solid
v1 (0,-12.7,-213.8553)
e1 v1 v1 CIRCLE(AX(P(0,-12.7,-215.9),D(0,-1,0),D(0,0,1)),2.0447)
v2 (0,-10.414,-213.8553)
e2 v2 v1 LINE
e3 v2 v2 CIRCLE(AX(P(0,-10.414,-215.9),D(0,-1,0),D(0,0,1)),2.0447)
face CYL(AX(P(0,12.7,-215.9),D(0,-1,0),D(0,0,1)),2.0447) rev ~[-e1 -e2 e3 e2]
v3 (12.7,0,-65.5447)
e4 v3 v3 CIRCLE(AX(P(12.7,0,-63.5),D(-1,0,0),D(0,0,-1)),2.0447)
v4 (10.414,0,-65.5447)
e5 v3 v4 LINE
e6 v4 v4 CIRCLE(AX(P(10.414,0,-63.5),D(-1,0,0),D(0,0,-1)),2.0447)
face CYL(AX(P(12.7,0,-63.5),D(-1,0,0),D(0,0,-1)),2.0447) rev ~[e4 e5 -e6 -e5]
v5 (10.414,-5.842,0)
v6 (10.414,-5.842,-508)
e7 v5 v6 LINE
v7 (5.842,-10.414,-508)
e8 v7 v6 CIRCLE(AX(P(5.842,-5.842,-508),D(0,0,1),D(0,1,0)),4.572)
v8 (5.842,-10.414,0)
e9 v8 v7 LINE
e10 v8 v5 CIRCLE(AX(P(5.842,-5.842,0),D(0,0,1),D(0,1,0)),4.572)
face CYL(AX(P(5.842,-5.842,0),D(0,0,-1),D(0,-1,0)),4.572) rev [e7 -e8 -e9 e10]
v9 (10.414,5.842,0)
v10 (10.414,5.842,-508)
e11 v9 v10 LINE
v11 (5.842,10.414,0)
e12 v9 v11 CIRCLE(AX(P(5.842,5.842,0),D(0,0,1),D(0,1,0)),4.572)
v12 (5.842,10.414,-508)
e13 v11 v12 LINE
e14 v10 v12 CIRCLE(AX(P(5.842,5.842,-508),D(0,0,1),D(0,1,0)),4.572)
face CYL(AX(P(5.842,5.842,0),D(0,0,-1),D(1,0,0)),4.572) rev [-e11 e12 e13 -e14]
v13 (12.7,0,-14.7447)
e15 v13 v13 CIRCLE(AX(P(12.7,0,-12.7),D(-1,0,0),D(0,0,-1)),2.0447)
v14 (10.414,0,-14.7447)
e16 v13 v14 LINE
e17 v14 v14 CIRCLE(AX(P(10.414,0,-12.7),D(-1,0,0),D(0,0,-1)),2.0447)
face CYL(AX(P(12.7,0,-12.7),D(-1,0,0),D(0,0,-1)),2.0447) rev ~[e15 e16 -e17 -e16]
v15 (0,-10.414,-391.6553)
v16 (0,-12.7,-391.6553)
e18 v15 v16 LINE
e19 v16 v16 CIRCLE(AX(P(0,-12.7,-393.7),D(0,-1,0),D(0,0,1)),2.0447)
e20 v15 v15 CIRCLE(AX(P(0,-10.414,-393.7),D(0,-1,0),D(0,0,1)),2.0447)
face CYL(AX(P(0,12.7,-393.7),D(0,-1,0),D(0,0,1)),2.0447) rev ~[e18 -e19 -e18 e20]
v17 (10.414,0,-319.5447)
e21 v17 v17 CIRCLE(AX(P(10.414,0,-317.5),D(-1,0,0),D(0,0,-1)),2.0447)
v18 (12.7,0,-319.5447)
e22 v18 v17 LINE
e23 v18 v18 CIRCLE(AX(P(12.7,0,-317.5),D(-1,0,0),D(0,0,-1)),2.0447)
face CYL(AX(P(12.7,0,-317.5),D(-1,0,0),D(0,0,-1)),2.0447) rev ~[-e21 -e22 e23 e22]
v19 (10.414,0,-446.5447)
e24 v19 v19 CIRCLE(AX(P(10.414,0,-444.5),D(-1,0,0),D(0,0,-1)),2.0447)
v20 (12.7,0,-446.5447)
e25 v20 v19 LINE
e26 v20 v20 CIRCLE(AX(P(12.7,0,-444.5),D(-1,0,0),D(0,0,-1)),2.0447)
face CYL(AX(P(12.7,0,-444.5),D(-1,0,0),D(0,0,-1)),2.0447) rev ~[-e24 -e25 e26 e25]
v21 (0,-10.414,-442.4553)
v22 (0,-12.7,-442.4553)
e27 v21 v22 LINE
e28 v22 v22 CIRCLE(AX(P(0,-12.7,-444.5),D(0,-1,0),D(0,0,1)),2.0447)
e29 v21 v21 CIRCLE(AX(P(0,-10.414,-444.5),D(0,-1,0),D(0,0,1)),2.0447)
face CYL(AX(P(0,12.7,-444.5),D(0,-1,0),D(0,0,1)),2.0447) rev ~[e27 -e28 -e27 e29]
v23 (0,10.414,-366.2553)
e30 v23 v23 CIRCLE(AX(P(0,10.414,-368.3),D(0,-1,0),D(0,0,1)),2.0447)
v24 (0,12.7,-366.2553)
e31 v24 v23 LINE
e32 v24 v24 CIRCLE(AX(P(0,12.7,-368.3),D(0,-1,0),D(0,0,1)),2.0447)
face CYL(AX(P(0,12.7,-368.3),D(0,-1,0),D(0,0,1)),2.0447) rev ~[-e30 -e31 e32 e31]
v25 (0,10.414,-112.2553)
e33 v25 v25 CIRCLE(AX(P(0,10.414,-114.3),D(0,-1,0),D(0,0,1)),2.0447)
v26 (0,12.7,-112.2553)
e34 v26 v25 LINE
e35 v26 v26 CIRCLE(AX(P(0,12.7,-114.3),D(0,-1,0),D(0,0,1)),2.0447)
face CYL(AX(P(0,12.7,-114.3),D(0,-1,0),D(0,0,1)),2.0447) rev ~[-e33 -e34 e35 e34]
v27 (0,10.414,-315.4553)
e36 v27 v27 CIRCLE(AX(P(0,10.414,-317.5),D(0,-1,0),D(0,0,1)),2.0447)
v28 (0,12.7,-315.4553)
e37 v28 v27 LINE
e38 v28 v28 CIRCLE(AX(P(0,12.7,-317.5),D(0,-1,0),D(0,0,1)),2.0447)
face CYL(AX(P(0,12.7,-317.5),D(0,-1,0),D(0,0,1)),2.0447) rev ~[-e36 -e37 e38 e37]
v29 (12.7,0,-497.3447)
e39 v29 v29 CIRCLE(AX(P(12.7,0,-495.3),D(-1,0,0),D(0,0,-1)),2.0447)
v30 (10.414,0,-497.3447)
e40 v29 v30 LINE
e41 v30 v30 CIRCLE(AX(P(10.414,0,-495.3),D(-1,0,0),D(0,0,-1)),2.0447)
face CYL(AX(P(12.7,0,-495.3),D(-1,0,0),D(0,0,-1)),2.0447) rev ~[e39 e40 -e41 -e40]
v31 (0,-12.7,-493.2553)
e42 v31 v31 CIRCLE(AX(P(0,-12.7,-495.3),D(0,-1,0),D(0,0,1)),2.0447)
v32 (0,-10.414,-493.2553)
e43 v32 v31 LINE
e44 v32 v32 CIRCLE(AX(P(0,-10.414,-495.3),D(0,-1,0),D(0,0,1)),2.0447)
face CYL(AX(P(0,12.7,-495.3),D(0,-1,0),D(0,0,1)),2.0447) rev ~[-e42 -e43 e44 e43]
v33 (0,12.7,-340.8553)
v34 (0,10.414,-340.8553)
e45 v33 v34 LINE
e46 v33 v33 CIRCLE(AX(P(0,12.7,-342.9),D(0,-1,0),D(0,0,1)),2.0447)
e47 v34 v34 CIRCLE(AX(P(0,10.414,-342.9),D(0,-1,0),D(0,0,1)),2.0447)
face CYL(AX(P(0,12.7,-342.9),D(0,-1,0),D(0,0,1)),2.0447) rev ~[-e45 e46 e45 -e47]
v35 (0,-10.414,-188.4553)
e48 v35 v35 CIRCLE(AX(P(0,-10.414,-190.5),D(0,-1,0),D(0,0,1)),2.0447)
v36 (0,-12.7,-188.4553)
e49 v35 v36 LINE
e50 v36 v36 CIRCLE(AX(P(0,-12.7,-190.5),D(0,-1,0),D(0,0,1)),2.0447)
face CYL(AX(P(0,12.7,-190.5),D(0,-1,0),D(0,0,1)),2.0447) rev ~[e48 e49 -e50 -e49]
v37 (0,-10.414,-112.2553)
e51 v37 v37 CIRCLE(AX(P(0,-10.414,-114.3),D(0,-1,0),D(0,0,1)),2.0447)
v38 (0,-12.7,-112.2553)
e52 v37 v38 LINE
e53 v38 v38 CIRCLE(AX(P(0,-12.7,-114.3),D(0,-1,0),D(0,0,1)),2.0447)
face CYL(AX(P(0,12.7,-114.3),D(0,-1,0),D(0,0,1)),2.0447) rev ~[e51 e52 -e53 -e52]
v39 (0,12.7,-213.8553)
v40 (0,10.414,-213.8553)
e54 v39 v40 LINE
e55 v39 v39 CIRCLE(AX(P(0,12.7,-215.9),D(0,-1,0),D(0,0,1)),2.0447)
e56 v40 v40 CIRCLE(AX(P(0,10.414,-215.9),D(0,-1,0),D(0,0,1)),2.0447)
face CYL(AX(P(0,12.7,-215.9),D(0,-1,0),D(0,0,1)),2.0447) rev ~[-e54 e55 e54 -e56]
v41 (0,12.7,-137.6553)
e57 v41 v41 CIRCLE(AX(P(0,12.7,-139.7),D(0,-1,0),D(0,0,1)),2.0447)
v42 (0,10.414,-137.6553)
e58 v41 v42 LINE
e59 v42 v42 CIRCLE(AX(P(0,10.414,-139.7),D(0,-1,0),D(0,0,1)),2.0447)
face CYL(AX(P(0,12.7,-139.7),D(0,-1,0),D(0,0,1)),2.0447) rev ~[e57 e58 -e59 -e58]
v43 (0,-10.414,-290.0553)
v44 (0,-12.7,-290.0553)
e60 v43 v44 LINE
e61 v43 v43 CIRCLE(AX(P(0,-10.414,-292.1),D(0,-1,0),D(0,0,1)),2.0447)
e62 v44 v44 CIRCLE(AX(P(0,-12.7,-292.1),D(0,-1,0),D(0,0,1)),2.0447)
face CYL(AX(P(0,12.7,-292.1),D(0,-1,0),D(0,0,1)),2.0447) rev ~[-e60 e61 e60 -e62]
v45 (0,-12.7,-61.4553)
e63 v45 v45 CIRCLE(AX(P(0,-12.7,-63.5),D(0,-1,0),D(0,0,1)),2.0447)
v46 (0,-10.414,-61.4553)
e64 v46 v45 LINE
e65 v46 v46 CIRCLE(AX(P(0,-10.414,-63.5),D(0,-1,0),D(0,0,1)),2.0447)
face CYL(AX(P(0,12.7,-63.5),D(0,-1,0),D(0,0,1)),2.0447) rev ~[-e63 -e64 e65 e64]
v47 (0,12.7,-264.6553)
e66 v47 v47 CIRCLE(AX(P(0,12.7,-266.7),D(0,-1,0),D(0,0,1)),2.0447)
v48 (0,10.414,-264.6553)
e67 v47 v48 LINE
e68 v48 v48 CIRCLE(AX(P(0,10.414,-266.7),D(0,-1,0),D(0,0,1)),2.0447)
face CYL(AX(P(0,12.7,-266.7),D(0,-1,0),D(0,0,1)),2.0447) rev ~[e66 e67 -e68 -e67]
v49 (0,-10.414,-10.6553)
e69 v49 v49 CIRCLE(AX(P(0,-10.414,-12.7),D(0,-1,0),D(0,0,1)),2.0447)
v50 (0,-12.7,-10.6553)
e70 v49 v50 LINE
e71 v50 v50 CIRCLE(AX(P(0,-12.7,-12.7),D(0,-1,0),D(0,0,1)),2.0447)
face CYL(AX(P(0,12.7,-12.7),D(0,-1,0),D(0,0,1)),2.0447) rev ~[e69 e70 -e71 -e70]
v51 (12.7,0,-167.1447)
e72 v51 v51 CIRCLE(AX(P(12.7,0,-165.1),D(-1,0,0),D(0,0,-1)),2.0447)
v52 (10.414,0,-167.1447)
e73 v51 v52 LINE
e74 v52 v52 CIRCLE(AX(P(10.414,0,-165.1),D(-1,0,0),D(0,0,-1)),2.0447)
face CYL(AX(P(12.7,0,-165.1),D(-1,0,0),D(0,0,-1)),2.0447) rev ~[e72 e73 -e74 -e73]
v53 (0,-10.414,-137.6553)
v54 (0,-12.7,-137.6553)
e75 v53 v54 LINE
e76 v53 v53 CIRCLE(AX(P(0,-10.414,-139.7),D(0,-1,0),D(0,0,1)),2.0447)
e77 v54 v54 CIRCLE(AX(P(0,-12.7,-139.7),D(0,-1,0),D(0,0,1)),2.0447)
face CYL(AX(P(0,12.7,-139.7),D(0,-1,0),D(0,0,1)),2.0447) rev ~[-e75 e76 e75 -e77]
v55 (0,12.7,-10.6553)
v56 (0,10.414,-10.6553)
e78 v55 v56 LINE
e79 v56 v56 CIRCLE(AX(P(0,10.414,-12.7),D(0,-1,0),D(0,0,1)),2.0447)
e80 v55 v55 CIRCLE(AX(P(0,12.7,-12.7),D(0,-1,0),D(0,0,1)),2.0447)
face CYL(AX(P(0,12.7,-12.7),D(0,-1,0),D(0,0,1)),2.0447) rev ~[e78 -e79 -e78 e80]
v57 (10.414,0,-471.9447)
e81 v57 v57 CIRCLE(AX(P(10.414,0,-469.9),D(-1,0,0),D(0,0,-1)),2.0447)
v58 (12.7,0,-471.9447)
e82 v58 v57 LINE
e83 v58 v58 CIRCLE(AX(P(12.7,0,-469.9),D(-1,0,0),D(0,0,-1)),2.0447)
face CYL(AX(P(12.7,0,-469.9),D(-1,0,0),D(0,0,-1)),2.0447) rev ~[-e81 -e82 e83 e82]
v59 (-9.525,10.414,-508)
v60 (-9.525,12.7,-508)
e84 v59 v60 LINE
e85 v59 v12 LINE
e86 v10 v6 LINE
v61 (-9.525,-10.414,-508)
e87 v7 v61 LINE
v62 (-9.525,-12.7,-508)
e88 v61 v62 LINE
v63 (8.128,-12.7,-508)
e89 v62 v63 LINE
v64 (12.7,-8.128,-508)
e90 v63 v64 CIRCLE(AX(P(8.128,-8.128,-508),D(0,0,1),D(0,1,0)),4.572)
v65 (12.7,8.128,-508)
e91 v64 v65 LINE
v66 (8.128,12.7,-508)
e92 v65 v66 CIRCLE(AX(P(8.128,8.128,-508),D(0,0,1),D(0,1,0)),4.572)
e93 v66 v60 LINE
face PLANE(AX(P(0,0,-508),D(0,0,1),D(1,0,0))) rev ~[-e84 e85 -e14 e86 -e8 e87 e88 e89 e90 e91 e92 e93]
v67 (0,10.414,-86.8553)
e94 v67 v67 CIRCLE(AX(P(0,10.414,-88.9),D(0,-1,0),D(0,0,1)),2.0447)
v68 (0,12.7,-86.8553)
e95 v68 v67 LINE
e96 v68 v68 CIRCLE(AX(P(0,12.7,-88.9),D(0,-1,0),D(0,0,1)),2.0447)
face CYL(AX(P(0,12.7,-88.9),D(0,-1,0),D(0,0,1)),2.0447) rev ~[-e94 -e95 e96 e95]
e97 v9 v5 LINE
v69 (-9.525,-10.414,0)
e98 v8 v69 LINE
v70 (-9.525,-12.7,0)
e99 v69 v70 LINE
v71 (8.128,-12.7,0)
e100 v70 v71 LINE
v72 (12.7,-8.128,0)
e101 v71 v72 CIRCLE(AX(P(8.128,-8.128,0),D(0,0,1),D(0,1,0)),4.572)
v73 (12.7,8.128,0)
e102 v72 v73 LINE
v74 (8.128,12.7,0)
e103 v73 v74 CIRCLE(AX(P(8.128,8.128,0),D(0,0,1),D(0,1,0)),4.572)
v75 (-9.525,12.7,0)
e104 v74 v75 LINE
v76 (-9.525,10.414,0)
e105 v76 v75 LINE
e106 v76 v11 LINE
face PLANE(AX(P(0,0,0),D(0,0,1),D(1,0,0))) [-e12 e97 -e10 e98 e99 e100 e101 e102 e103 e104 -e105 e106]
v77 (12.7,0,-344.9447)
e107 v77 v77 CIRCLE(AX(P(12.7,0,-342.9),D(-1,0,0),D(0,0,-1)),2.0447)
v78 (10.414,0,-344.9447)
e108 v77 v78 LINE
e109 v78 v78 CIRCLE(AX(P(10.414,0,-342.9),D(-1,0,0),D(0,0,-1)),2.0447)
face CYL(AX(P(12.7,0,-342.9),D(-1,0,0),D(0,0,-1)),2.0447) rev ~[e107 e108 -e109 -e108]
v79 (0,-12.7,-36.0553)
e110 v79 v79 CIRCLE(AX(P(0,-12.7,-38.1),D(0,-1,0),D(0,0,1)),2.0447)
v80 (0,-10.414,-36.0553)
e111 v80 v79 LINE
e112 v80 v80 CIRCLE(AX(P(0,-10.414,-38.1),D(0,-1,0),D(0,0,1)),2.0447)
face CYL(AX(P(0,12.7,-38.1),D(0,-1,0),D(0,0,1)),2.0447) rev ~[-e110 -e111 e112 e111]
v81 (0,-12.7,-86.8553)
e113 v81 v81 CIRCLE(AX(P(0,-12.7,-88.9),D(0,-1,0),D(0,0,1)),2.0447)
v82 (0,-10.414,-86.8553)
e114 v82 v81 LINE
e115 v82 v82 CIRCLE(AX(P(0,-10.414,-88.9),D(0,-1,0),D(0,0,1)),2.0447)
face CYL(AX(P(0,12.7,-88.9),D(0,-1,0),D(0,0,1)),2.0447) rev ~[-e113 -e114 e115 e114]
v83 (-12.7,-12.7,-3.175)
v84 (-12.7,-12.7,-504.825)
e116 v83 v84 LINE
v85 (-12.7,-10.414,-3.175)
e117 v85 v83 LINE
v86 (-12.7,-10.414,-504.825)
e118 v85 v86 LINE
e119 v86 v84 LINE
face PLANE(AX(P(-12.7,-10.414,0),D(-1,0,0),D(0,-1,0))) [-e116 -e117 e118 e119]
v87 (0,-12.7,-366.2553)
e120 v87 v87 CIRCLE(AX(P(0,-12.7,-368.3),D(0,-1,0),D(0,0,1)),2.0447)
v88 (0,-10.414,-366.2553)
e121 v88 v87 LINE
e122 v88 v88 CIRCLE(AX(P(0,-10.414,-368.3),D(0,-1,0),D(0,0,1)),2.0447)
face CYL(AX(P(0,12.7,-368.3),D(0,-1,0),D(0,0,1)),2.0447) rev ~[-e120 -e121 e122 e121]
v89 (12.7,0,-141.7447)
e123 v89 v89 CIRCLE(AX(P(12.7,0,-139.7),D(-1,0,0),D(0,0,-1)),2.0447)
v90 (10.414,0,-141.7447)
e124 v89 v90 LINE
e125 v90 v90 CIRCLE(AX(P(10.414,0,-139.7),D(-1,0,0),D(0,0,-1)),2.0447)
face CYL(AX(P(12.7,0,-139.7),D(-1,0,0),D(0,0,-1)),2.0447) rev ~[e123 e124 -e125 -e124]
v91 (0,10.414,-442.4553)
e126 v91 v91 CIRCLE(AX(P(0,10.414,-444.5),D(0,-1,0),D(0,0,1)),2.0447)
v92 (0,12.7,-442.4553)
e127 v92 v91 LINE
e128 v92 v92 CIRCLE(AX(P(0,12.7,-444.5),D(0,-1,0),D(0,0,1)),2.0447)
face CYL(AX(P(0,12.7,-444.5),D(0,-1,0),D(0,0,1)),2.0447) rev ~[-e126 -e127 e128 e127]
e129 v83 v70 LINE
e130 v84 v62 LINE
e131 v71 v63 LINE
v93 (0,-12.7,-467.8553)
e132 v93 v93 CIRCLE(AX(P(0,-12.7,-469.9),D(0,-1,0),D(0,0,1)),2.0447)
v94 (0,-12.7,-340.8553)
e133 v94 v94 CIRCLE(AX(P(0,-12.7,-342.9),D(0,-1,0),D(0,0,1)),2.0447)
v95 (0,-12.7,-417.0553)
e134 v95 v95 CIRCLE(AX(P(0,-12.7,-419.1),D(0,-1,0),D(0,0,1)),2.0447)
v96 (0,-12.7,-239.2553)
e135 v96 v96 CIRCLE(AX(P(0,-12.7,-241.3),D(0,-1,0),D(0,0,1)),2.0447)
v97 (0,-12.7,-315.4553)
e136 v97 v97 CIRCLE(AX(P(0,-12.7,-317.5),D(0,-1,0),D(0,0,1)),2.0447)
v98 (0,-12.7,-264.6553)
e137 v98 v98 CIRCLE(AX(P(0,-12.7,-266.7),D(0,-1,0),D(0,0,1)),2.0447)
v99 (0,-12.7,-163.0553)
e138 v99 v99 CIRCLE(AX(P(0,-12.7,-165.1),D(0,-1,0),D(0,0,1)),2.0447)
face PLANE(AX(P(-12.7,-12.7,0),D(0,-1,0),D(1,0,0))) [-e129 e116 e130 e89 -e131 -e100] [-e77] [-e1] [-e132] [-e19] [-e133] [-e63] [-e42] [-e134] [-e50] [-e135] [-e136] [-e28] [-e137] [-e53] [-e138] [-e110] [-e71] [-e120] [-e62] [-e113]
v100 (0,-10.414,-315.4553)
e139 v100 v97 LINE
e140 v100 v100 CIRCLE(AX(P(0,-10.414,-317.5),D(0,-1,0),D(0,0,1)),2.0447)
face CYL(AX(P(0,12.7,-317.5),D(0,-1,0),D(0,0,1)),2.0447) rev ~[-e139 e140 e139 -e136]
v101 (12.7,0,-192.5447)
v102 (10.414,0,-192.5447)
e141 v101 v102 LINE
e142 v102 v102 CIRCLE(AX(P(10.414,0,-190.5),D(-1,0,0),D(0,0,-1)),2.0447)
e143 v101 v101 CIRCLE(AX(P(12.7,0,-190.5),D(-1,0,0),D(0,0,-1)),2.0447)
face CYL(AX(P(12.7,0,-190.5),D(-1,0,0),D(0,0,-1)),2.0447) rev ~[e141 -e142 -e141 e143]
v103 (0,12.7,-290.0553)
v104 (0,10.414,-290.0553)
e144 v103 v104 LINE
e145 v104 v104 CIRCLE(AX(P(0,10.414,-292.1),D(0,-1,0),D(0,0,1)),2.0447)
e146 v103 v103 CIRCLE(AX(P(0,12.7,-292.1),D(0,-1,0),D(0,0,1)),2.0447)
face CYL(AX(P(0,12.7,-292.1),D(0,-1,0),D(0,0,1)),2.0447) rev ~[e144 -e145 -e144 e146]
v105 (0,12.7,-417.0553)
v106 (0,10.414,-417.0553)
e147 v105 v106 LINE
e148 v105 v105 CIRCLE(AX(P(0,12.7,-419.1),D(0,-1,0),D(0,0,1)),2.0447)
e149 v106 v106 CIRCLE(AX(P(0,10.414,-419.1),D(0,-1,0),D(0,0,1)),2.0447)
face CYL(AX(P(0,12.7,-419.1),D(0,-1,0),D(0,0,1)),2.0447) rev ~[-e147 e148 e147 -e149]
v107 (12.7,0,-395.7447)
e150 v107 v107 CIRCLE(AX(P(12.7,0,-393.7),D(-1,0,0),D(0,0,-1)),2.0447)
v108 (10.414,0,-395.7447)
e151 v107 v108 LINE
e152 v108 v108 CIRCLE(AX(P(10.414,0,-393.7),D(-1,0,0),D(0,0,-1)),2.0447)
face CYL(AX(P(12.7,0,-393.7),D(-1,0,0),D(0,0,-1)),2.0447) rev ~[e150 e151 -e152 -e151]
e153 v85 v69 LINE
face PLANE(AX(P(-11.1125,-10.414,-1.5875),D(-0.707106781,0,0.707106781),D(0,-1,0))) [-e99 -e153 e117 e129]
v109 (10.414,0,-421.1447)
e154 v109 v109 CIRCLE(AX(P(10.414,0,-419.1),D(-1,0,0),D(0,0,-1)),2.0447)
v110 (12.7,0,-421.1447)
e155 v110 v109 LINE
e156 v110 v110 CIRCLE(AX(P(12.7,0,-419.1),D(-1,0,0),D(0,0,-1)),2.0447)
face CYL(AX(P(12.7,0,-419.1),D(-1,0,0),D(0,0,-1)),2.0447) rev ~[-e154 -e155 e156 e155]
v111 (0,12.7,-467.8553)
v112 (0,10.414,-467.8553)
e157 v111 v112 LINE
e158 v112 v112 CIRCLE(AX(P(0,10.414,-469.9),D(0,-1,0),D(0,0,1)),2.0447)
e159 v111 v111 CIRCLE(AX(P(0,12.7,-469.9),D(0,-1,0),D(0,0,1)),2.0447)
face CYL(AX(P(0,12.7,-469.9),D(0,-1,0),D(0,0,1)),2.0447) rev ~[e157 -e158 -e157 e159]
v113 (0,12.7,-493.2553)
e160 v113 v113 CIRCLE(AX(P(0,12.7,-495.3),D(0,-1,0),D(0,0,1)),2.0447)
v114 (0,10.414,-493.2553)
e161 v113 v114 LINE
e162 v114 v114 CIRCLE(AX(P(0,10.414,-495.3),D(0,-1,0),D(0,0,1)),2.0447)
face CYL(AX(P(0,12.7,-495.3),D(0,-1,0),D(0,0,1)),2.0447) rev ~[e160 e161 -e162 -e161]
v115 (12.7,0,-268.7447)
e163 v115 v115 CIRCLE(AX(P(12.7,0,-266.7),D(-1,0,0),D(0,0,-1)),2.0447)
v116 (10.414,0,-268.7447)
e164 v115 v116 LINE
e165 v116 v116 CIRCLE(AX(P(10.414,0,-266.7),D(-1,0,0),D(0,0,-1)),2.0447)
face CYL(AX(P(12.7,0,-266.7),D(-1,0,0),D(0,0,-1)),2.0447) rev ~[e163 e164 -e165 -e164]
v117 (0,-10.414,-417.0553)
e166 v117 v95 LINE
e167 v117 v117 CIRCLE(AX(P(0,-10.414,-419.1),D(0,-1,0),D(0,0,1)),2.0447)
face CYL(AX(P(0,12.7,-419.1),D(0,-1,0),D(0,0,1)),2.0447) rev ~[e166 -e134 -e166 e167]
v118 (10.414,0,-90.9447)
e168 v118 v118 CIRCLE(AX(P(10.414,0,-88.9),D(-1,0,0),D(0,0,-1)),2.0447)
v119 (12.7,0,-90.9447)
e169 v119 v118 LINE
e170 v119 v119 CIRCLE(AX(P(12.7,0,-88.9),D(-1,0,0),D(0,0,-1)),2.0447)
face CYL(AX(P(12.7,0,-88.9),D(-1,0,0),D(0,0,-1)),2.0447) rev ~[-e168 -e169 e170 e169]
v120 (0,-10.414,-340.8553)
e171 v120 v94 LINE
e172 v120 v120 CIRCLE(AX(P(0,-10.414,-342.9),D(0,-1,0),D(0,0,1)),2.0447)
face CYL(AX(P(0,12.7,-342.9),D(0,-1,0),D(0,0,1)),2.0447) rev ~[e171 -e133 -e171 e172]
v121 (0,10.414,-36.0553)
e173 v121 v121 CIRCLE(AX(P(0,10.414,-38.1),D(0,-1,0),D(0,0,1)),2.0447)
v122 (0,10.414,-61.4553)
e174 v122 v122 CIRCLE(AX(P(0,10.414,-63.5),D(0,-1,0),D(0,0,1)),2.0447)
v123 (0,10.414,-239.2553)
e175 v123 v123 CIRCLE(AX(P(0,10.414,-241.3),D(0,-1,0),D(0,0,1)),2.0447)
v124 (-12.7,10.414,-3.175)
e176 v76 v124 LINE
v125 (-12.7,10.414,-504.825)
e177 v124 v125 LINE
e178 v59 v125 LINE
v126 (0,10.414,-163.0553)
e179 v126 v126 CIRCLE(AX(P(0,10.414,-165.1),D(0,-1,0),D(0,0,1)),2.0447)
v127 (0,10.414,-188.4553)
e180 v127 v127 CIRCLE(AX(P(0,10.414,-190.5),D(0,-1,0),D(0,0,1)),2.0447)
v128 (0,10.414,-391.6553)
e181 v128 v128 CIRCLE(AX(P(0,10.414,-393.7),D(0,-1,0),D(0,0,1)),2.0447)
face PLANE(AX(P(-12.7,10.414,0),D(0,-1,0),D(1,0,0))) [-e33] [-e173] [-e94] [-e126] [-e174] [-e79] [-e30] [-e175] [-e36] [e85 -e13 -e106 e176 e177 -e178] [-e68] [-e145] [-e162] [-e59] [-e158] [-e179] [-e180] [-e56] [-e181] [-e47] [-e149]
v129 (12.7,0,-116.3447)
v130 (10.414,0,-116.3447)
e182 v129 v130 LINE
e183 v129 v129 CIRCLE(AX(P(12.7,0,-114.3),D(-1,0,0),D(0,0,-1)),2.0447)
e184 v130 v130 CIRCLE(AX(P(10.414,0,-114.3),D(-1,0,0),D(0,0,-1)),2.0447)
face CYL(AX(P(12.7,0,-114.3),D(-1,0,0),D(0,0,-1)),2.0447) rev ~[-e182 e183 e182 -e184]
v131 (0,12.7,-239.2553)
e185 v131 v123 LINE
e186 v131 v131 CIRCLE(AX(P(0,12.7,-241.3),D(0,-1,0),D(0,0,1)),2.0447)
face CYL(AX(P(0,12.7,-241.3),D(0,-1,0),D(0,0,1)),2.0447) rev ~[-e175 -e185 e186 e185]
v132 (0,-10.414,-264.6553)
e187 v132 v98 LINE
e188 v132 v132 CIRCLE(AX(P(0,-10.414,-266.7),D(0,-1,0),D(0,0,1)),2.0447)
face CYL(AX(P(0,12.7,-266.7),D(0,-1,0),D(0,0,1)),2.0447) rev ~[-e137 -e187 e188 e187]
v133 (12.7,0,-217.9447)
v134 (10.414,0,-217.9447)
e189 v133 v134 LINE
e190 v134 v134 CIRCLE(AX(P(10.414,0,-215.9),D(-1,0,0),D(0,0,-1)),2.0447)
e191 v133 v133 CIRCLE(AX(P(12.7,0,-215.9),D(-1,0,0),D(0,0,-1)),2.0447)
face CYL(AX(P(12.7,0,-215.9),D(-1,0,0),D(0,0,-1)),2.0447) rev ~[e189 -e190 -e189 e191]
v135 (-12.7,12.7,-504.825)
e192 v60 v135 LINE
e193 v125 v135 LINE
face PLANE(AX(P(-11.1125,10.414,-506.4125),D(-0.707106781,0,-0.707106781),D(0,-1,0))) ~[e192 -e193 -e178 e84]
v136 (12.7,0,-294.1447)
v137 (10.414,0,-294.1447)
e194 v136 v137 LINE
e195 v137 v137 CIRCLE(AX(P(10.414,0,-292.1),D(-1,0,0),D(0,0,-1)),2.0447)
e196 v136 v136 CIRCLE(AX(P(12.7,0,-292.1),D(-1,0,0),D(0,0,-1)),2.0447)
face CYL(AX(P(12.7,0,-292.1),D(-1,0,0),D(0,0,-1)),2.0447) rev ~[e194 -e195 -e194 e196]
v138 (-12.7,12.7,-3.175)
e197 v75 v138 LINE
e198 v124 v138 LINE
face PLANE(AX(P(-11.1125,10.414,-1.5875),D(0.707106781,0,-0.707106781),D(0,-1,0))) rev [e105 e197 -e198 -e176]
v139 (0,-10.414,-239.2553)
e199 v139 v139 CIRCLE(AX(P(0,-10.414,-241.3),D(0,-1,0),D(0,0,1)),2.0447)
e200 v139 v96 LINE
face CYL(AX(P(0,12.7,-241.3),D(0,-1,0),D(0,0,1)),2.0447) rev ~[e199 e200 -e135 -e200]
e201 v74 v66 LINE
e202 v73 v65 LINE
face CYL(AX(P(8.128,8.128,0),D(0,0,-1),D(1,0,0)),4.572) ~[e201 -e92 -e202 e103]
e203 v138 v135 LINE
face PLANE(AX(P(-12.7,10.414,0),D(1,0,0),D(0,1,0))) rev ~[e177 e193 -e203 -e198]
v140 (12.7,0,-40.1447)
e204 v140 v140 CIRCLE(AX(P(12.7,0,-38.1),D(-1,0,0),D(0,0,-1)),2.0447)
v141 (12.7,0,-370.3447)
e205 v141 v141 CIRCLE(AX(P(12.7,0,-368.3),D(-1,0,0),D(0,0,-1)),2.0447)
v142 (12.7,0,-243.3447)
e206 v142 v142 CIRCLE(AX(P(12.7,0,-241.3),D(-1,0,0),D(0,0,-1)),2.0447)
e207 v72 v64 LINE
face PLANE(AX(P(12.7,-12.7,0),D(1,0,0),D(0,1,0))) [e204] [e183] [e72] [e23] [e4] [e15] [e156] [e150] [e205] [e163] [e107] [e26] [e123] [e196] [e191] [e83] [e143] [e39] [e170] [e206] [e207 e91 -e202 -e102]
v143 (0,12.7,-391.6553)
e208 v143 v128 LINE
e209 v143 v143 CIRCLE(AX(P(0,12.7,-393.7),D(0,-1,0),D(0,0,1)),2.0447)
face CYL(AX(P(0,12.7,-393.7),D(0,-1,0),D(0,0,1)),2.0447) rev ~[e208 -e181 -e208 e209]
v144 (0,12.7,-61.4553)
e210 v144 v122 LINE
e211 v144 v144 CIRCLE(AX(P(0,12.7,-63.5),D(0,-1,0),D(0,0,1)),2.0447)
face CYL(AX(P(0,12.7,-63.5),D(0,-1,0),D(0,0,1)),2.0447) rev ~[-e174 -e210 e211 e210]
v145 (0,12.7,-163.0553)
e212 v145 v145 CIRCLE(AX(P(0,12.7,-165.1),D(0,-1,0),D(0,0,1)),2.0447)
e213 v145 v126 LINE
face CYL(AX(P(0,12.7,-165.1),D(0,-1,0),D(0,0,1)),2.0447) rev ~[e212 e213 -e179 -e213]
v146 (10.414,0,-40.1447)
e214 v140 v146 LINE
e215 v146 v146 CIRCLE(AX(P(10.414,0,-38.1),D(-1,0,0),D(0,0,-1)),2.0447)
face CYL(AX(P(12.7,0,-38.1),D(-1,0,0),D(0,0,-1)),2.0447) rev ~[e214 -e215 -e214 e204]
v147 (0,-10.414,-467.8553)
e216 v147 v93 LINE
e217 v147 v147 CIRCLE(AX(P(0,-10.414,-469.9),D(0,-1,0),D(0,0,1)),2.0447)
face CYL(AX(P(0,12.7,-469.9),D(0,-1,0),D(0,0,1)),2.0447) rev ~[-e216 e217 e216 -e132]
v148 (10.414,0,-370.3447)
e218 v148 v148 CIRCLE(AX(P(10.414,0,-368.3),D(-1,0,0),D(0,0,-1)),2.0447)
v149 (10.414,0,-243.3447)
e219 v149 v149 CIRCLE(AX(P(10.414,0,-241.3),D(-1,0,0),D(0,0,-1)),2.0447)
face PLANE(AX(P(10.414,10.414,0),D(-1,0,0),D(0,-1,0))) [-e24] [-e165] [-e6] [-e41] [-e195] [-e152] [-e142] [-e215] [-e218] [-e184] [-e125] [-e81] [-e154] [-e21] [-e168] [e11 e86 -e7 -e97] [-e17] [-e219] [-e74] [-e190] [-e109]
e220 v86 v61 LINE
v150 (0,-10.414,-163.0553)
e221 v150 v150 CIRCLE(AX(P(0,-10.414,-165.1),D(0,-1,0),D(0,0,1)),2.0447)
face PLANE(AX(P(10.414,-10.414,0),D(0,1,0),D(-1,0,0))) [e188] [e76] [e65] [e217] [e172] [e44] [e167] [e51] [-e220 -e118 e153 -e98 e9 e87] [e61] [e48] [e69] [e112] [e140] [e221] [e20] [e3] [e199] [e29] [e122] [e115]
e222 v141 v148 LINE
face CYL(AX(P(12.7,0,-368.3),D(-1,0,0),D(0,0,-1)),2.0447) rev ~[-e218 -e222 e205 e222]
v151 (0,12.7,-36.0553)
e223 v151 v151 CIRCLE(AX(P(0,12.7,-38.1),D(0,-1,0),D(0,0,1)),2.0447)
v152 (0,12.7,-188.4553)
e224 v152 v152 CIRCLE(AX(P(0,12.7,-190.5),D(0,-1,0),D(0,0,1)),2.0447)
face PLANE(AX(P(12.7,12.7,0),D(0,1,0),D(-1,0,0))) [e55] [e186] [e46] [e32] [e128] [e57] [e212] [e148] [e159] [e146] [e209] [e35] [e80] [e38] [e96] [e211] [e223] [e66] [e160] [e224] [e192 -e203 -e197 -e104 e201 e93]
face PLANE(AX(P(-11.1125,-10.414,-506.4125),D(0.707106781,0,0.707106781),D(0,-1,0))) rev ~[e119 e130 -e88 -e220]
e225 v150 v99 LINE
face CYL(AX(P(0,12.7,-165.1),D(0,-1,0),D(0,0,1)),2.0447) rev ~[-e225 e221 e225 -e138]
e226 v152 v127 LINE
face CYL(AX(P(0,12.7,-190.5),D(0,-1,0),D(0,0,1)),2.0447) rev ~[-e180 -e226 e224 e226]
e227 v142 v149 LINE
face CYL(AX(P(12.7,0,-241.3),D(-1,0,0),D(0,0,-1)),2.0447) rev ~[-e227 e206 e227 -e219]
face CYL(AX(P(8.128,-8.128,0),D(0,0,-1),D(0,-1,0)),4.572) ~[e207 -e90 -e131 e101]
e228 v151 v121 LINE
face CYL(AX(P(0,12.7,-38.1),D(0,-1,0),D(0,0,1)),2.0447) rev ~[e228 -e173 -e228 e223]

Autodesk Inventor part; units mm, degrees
ref_plane "YZ Plane" through (0, 0, 0) normal (1, 0, 0) x (0, 1, 0)
ref_plane "XZ Plane" through (0, 0, 0) normal (0, 1, 0) x (-1, 0, 0)
ref_plane "XY Plane" through (0, 0, 0) normal (0, 0, 1) x (1, 0, 0)
sketch "Sketch1" plane through (0, 0, 0) normal (0, 0, 1) x (1, 0, 0)
  line L0 (-12.7, -12.7) -> (12.7, -12.7)
  line L1 (12.7, -12.7) -> (12.7, 12.7)
  line L2 (12.7, 12.7) -> (-12.7, 12.7)
  line L3 (-12.7, -12.7) -> (12.7, 12.7) construction
  line L4 (12.7, -12.7) -> (-12.7, 12.7) construction
  line L5 (-12.7, 10.414) -> (10.414, 10.414)
  line L6 (10.414, 10.414) -> (10.414, -10.414)
  line L7 (10.414, -10.414) -> (-12.7, -10.414)
  line L8 (-12.7, 10.414) -> (-12.7, 12.7)
  line L9 (-12.7, -10.414) -> (-12.7, -12.7)
  point P0 (0, 0)
  dimension "l1" = 25.4
  dimension "l2" = 25.4
  dimension "wt" = 2.286
extrude "Extrusion1" add sketch "Sketch1" against normal blind 508
sketch "Sketch2" plane through (-12.7, 12.7, 0) normal (0, 1, 0) x (1, 0, 0)
  line L0 (25.4, 0) -> (0, 0) projected
  line L1 (25.4, 0) -> (25.4, 508) projected
  line L2 (0, 508) -> (25.4, 508) projected
  line L3 (0, 0) -> (0, 508) projected
  point P0 (12.7, 0)
  point P1 (12.7, 12.7)
  dimension "d5" = 25.4
  dimension "d7" = 12.7
  dimension "d8" = 12.7
hole "Hole1" at (0, 12.7, -12.7) direction (0, -1, 0) diameter 4.0894 end through all
sketch "Sketch3" plane through (12.7, -12.7, 0) normal (1, 0, 0) x (0, 0, -1)
  line L0 (0, 0) -> (0, 25.4) projected
  line L1 (0, 0) -> (508, 0) projected
  line L2 (508, 25.4) -> (508, 0) projected
  line L3 (0, 25.4) -> (508, 25.4) projected
  point P0 (0, 12.7)
  point P1 (12.7, 12.7)
  dimension "bot_dist" = 12.7
  dimension "d17" = 25.4
  dimension "d18" = 12.7
hole "Hole2" at (12.7, 0, -12.7) direction (-1, 0, 0) diameter 4.0894 end through all
sketch "Sketch4" plane through (12.7, -12.7, 0) normal (1, 0, 0) x (0, 0, -1)
  line L0 (0, 0) -> (0, 25.4) projected
  line L1 (0, 25.4) -> (508, 25.4) projected
  line L2 (0, 0) -> (508, 0) projected
  point P0 (0, 12.7)
  point P1 (12.7, 12.7)
  point P2 (12.7, 12.7)
  dimension "d26" = 12.7
  dimension "d27" = 12.7
  dimension "d28" = 12.7
hole "Hole3" [suppressed]
pattern_linear "Rectangular Pattern1" count 21 spacing 25.4 along (0, 0, -1) of "Hole1"
pattern_linear "Rectangular Pattern2" count 21 spacing 25.4 along (0, 0, -1) of "Hole2"
pattern_linear "Rectangular Pattern3" [suppressed]
chamfer "Chamfer1" distance 3.175 angle 45 4 edges at (-12.7, 11.557, 0) (-12.7, -11.557, 0) (-12.7, 11.557, -508) (-12.7, -11.557, -508)
fillet "Fillet1" radius 4.572 4 edges at (12.7, 12.7, -254) (12.7, -12.7, -254) (10.414, -10.414, -254) (10.414, 10.414, -254)
equation "\"d7\" = 0.5 * d5"
equation "\"d18\" = 0.5 * d17"
properties part number "channel-1x1x1-0001" material "Aluminum 5052-H36"
